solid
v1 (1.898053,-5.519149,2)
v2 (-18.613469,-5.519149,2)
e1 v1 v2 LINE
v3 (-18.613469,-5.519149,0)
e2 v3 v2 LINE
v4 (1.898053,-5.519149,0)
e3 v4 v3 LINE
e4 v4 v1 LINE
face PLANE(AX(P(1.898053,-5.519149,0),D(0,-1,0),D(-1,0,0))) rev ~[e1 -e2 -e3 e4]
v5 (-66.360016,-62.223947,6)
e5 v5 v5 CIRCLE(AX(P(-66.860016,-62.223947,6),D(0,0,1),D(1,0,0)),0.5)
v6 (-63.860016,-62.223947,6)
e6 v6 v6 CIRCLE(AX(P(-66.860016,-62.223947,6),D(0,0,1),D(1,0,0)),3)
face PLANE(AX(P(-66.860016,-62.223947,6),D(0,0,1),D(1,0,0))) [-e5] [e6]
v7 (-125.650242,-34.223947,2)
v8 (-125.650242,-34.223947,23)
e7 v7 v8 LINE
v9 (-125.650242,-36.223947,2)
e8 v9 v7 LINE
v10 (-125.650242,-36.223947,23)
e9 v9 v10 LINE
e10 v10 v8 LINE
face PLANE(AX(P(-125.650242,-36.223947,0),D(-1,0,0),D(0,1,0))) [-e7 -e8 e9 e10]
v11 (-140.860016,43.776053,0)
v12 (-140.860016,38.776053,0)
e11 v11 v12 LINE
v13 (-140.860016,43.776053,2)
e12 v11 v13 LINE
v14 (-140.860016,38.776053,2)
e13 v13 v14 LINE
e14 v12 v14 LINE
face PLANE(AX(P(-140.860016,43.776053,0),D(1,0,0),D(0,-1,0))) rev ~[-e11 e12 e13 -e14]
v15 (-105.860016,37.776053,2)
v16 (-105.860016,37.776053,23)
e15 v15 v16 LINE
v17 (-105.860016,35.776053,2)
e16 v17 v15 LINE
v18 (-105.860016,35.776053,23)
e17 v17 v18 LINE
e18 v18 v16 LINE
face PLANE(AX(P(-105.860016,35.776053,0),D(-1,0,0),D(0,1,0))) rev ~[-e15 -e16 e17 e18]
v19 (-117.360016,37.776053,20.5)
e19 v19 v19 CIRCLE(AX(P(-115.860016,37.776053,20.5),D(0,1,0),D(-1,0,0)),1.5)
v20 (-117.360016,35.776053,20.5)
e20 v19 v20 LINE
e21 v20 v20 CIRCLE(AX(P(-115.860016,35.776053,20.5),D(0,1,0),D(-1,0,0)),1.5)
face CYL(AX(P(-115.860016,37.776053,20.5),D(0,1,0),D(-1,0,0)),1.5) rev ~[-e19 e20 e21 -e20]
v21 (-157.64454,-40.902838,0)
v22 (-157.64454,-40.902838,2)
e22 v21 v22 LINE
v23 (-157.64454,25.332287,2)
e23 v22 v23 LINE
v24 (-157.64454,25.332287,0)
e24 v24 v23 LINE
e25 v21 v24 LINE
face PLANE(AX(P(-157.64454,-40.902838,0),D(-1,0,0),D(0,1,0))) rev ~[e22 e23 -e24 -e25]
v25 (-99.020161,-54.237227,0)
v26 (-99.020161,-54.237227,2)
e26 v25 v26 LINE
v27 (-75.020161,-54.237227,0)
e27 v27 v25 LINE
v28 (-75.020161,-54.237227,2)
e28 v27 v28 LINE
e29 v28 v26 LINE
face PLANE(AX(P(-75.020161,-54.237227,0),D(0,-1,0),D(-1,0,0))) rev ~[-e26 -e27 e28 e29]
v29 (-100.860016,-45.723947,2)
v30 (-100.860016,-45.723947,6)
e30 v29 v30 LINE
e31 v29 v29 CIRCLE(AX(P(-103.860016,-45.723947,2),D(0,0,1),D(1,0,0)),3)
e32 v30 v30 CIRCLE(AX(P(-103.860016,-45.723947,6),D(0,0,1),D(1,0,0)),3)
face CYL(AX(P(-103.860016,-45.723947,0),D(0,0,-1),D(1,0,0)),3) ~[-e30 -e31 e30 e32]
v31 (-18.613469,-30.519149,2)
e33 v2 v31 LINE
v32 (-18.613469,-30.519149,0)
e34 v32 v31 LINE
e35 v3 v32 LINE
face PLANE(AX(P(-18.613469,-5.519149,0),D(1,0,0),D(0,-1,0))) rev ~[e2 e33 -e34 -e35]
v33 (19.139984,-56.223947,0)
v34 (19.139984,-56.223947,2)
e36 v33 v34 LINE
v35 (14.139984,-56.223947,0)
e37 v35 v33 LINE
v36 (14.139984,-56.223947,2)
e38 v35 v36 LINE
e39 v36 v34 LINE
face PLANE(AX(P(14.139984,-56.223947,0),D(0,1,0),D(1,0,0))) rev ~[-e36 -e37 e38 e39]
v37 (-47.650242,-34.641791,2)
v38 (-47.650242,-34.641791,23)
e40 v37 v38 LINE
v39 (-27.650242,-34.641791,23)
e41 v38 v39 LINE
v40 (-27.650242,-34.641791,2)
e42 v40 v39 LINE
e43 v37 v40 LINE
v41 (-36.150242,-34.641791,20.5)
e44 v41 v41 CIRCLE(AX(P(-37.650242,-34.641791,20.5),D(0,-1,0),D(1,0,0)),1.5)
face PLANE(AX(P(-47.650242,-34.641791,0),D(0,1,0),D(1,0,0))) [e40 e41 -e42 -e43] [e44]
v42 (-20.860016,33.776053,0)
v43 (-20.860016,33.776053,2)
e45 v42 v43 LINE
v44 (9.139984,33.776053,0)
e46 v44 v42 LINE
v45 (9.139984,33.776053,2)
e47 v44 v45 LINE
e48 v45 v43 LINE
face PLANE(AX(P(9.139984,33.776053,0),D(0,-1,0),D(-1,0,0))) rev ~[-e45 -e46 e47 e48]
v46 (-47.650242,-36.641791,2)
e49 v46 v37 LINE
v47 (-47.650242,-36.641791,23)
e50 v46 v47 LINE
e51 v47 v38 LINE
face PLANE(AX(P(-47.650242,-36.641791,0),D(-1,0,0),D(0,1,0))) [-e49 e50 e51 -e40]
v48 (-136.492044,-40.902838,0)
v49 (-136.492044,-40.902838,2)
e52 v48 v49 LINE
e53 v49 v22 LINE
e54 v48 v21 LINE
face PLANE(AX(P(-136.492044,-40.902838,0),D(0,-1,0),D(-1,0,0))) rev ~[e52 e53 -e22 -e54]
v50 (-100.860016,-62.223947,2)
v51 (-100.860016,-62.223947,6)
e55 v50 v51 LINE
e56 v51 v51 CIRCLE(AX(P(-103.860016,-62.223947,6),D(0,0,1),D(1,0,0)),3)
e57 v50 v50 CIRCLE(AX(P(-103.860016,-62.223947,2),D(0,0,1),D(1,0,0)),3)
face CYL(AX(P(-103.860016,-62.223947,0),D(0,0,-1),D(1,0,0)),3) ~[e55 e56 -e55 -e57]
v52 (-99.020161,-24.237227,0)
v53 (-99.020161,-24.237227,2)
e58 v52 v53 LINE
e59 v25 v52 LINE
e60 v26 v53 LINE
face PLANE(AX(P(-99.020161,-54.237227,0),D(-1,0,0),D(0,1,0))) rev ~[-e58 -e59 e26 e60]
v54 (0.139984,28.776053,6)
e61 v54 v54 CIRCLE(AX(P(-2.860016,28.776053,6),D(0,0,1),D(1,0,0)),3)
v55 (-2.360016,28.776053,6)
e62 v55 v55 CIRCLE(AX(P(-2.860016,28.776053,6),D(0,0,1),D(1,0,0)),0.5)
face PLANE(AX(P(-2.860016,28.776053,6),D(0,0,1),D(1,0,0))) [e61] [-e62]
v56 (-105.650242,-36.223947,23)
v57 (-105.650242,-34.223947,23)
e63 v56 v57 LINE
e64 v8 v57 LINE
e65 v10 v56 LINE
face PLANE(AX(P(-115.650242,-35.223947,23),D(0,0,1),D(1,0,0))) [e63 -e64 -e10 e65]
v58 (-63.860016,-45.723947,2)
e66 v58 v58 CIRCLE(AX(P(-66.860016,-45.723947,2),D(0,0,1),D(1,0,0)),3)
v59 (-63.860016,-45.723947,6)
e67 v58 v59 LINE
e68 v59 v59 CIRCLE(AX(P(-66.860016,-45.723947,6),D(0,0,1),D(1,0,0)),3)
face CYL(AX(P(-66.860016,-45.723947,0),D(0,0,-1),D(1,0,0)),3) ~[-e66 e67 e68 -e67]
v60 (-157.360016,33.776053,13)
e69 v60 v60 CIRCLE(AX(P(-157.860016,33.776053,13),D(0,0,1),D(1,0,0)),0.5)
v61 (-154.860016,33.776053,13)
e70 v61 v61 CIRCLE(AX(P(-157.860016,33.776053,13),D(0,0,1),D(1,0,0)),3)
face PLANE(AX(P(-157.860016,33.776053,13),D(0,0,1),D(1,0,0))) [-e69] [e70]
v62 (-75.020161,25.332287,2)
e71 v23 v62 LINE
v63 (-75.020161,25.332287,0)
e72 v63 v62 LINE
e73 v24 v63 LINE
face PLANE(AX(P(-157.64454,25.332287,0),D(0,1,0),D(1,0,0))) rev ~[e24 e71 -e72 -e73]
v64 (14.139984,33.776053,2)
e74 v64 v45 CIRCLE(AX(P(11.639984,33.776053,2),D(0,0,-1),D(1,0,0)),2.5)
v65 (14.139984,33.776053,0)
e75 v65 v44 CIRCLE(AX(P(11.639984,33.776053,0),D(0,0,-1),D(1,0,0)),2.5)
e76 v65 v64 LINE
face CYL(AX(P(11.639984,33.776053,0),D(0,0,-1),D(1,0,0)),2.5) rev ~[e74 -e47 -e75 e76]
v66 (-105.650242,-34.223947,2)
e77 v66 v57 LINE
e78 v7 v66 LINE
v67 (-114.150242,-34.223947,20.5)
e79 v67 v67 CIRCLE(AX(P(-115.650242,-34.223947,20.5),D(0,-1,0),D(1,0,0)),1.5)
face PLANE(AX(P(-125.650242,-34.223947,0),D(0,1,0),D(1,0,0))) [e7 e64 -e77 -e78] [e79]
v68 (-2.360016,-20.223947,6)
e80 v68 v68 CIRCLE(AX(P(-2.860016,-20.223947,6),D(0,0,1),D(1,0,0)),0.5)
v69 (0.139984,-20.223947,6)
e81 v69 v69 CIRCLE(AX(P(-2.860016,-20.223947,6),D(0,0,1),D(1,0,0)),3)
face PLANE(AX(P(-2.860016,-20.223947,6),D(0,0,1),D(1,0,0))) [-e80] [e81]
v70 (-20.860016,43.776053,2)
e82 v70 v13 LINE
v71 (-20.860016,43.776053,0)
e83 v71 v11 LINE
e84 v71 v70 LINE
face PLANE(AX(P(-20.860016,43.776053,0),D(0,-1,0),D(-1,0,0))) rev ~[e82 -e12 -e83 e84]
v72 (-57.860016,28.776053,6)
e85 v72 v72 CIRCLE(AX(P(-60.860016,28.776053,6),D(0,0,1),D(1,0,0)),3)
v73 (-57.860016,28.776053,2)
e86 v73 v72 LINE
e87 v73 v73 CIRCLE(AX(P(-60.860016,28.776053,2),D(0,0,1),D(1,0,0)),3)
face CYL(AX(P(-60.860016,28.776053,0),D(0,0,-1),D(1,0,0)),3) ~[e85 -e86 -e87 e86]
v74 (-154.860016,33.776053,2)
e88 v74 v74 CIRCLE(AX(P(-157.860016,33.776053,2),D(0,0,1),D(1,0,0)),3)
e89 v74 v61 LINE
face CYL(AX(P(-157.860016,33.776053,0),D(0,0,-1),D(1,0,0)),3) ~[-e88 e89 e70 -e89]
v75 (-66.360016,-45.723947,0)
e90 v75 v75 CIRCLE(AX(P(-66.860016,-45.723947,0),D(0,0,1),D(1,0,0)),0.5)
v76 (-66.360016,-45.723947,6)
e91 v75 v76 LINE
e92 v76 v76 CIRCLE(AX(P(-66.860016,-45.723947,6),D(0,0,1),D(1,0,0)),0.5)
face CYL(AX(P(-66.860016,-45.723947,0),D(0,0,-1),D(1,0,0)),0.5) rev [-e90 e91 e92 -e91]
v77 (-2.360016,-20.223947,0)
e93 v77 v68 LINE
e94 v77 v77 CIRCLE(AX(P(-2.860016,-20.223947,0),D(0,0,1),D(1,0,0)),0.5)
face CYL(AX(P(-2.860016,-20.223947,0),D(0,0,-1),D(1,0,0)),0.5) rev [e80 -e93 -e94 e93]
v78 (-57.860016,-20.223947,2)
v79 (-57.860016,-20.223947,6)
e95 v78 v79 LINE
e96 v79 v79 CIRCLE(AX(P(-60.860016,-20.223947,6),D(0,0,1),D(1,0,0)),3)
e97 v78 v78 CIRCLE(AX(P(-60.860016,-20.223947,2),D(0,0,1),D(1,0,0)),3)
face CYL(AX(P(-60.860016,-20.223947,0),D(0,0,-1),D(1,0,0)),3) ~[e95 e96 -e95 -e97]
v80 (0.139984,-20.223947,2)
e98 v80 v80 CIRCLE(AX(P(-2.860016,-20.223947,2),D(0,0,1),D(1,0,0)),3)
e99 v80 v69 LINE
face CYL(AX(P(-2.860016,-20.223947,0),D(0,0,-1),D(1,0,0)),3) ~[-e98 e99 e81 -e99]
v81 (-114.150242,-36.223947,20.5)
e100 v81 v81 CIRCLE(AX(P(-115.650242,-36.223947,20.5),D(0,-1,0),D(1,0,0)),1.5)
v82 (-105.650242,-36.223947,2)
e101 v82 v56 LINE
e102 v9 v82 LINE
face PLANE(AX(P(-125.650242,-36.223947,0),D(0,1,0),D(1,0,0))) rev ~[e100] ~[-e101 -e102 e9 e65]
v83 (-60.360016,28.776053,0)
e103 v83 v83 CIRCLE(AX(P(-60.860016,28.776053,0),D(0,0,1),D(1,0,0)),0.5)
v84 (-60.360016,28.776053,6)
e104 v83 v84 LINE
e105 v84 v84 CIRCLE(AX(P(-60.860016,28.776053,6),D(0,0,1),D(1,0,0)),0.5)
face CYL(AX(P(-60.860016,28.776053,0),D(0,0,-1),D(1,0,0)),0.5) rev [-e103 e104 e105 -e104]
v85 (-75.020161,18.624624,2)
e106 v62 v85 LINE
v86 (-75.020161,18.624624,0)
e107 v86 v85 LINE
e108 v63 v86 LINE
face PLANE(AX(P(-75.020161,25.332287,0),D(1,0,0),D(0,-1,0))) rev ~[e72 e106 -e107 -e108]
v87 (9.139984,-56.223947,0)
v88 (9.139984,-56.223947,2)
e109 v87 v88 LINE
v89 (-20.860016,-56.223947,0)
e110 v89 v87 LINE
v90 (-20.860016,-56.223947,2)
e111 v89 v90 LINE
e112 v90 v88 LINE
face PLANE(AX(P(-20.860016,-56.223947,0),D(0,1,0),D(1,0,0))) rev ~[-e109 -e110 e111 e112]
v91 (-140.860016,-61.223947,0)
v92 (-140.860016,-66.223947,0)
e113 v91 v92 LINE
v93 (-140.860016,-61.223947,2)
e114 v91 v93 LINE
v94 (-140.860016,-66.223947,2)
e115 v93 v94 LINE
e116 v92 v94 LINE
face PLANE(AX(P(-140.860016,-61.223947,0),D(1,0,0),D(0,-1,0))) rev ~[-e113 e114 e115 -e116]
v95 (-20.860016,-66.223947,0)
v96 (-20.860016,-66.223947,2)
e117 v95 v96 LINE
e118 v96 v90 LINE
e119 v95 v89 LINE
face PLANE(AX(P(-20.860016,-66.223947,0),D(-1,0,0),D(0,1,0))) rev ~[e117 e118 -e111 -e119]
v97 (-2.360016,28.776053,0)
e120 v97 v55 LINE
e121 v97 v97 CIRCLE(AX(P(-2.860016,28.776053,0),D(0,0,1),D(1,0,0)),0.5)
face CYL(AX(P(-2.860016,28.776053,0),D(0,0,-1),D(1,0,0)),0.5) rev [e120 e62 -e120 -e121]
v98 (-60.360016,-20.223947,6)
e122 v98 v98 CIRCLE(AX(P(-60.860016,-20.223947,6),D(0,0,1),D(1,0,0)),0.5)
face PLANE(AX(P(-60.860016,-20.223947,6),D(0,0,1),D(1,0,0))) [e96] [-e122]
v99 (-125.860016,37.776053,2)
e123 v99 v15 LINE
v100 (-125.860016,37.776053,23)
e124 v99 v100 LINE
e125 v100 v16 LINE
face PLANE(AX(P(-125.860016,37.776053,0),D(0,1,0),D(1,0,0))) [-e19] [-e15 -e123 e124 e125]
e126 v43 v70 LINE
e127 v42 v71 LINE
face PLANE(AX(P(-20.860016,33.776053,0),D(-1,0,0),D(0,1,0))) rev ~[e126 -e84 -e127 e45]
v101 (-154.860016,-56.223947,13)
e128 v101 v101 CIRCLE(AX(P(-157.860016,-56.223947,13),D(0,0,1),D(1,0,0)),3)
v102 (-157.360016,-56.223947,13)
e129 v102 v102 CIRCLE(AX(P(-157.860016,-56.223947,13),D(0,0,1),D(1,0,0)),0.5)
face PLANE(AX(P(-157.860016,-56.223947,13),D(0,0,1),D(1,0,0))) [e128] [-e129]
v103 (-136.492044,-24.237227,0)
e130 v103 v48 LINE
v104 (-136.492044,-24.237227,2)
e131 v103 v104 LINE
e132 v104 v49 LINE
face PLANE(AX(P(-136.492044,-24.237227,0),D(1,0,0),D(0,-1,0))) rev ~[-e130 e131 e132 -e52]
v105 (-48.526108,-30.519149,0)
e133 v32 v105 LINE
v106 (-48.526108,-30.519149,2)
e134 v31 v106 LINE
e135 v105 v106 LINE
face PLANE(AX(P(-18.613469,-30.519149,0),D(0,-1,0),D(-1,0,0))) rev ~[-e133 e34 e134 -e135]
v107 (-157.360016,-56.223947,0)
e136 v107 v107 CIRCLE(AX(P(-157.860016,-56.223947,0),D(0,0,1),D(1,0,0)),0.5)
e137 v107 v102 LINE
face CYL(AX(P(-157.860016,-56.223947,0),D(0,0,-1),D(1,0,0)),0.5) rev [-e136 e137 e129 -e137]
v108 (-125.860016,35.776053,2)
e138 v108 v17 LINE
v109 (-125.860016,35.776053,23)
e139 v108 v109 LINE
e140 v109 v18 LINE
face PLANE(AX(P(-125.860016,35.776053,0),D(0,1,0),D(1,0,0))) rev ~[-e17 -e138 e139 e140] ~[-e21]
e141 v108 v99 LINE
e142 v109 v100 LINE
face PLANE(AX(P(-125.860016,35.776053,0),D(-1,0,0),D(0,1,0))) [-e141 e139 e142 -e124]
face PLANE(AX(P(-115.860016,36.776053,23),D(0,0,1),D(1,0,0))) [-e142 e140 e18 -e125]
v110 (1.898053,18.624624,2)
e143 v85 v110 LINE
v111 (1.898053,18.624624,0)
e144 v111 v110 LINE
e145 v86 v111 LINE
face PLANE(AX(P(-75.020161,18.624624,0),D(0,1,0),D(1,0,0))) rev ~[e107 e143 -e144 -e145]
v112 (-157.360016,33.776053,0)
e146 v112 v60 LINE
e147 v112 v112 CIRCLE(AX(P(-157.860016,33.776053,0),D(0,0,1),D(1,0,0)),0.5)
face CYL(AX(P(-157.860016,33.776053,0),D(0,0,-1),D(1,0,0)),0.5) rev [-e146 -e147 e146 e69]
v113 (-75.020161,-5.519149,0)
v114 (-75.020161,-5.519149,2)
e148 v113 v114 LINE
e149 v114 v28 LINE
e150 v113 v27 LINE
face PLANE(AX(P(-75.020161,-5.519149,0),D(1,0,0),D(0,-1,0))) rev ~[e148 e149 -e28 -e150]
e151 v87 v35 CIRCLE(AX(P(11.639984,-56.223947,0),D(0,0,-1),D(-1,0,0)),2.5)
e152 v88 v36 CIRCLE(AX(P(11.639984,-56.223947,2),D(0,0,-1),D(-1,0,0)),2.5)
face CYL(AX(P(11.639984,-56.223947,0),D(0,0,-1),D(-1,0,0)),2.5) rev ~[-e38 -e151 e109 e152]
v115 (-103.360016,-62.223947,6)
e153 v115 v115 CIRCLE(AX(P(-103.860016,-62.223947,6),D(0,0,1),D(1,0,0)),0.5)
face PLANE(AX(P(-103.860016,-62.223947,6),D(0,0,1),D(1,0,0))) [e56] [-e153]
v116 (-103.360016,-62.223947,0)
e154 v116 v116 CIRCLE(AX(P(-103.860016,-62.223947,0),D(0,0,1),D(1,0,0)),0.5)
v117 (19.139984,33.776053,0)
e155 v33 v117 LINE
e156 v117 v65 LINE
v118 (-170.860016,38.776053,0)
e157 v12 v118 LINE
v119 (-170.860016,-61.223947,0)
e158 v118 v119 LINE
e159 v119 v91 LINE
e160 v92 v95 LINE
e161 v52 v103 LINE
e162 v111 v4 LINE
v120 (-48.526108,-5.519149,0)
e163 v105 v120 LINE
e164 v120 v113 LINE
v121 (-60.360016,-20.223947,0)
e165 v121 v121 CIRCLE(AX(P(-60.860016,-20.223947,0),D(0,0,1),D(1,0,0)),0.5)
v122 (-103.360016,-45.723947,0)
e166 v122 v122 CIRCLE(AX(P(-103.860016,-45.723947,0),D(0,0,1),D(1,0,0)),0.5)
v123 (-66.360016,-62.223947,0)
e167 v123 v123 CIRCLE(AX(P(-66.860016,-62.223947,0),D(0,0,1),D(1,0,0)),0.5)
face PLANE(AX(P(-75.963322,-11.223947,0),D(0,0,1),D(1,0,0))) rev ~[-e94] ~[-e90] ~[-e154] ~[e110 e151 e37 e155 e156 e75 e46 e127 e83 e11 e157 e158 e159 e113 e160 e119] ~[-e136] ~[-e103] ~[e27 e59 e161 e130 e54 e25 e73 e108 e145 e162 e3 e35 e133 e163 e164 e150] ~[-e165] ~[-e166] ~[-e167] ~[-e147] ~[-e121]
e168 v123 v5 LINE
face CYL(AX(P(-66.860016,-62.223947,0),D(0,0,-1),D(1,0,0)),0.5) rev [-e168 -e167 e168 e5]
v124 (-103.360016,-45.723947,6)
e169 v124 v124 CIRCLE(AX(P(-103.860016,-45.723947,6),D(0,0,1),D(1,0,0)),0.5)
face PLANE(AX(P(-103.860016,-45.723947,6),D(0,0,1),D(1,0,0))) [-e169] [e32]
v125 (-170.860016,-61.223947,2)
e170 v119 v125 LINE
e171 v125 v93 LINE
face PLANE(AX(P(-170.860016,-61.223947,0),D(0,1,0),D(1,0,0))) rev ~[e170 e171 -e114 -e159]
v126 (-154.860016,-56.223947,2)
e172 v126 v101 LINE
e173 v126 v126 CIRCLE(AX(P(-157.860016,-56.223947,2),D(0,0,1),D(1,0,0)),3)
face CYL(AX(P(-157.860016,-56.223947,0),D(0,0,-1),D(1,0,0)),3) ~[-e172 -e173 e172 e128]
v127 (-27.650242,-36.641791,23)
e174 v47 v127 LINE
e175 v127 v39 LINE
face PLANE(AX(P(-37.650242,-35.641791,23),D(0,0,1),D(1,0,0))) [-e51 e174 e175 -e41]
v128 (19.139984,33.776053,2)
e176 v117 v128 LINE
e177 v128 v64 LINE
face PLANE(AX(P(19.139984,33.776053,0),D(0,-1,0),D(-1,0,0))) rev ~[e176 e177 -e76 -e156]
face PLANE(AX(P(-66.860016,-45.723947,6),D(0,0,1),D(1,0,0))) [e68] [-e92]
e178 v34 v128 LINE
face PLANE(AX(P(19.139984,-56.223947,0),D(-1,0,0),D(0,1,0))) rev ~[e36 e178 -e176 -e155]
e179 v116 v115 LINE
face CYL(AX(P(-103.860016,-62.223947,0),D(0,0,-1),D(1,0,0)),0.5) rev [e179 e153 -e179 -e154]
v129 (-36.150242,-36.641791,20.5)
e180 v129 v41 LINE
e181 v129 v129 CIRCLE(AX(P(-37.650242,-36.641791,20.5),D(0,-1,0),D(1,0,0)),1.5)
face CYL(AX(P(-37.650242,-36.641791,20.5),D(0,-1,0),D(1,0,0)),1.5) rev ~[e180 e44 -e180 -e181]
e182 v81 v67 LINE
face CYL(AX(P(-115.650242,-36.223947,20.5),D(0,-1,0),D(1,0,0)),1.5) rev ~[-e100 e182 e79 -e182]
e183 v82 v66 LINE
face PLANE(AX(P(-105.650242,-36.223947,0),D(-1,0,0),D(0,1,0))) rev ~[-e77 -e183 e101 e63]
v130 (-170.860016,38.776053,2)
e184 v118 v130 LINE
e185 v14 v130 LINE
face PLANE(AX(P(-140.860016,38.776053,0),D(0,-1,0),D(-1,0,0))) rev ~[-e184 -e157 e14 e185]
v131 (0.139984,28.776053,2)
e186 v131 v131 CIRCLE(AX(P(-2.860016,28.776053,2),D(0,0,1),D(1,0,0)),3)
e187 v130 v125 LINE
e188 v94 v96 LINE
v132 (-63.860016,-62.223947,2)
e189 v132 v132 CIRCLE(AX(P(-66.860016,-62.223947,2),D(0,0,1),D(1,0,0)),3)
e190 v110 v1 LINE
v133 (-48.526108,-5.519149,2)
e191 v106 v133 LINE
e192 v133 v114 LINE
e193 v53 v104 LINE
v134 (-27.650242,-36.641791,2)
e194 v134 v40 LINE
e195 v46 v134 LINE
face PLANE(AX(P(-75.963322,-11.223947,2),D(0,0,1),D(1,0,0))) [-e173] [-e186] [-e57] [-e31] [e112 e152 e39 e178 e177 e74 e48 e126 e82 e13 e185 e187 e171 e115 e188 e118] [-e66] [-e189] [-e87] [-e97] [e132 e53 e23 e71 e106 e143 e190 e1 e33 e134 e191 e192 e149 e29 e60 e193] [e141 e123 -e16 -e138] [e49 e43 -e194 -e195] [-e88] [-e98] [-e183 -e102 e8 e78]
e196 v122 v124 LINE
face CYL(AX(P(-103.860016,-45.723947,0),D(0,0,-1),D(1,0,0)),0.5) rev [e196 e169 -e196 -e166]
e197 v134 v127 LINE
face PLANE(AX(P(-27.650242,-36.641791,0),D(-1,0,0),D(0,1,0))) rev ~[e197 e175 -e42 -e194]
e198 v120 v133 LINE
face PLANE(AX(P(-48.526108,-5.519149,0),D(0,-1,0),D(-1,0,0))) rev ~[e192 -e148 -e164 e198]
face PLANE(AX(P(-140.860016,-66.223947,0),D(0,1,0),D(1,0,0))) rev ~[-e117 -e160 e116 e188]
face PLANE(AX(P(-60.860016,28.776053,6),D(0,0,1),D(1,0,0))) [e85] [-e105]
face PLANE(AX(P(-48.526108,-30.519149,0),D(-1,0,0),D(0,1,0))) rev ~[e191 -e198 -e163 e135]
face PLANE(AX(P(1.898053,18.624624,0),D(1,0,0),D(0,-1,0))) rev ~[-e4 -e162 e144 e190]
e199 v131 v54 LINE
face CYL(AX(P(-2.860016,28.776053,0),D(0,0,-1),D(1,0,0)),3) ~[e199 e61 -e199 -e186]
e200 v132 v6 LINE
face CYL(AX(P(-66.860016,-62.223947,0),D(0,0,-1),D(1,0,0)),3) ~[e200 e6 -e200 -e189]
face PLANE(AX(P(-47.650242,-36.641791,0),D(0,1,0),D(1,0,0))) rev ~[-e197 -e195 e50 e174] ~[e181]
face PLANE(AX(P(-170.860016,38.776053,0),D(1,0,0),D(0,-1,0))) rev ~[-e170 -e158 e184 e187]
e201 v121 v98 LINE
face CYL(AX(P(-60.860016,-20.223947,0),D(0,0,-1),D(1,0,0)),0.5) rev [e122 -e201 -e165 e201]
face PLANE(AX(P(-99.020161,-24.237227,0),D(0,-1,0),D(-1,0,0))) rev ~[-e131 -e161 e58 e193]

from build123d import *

# Parameters (mm, degrees)
F0_R      = 3
F0_W      = 20
F0_H      = 2
F1_DEPTH  = 2
F0_R_2    = 0.5
F2_DEPTH  = 13
F3_DEPTH  = 23
F4_DEPTH  = 6
F5_R      = 1.5
F6_DEPTH  = 25
F7_R      = 1.5
F8_DEPTH  = 5
F9_R      = 1.5
F10_DEPTH = 5


with BuildPart() as f1:
    # F0 (on Top) → F1 (new body)
    with BuildSketch(Plane.XY):
        with BuildLine():
            Line((-20.860016, 43.776053), (-140.860016, 43.776053))
            Line((-140.860016, 43.776053), (-140.860016, 38.776053))
            Line((-140.860016, 38.776053), (-170.860016, 38.776053))
            Line((-170.860016, 38.776053), (-170.860016, -61.223947))
            Line((-170.860016, -61.223947), (-140.860016, -61.223947))
            Line((-140.860016, -61.223947), (-140.860016, -66.223947))
            Line((-140.860016, -66.223947), (-20.860016, -66.223947))
            Line((-20.860016, -66.223947), (-20.860016, -56.223947))
            Line((-20.860016, -56.223947), (9.139984, -56.223947))
            ThreePointArc((9.139984, -56.223947), (11.639984, -53.723947), (14.139984, -56.223947))
            Line((14.139984, -56.223947), (19.139984, -56.223947))
            Line((19.139984, -56.223947), (19.139984, 33.776053))
            Line((19.139984, 33.776053), (14.139984, 33.776053))
            ThreePointArc((14.139984, 33.776053), (11.639984, 31.276053), (9.139984, 33.776053))
            Line((9.139984, 33.776053), (-20.860016, 33.776053))
            Line((-20.860016, 33.776053), (-20.860016, 43.776053))
        make_face()
        with Locations((-157.860016, -56.223947)):
            Circle(F0_R, mode=Mode.SUBTRACT)
        with Locations((-103.860016, -62.223947)):
            Circle(F0_R, mode=Mode.SUBTRACT)
        with Locations((-103.860016, -45.723947)):
            Circle(F0_R, mode=Mode.SUBTRACT)
        with Locations((-115.650242, -35.223947)):
            Rectangle(F0_W, F0_H, mode=Mode.SUBTRACT)
        Polygon((-157.64454, -24.237227), (-157.64454, 25.332287), (-75.020161, 25.332287), (-75.020161, 18.624624), (1.898053, 18.624624), (1.898053, -5.519149), (-18.613469, -5.519149), (-18.613469, -30.519149), (-48.526108, -30.519149), (-48.526108, -5.519149), (-75.020161, -5.519149), (-75.020161, -24.237227), (-75.020161, -54.237227), (-99.020161, -54.237227), (-99.020161, -24.237227), (-136.492044, -24.237227), (-136.492044, -40.902838), (-157.64454, -40.902838), align=None, mode=Mode.SUBTRACT)
        with Locations((-66.860016, -62.223947)):
            Circle(F0_R, mode=Mode.SUBTRACT)
        with Locations((-66.860016, -45.723947)):
            Circle(F0_R, mode=Mode.SUBTRACT)
        with Locations((-37.650242, -35.641791)):
            Rectangle(F0_W, F0_H, mode=Mode.SUBTRACT)
        with Locations((-60.860016, -20.223947)):
            Circle(F0_R, mode=Mode.SUBTRACT)
        with Locations((-2.860016, -20.223947)):
            Circle(F0_R, mode=Mode.SUBTRACT)
        with Locations((-157.860016, 33.776053)):
            Circle(F0_R, mode=Mode.SUBTRACT)
        with Locations((-115.860016, 36.776053)):
            Rectangle(F0_W, F0_H, mode=Mode.SUBTRACT)
        with Locations((-60.860016, 28.776053)):
            Circle(F0_R, mode=Mode.SUBTRACT)
        with Locations((-2.860016, 28.776053)):
            Circle(F0_R, mode=Mode.SUBTRACT)
    extrude(amount=F1_DEPTH)

    # F0 (on Top) → F2 (join)
    with BuildSketch(Plane.XY):
        with Locations((-157.860016, 33.776053)):
            Circle(F0_R)
        with Locations((-157.860016, 33.776053)):
            Circle(F0_R_2, mode=Mode.SUBTRACT)
        with Locations((-157.860016, -56.223947)):
            Circle(F0_R)
        with Locations((-157.860016, -56.223947)):
            Circle(F0_R_2, mode=Mode.SUBTRACT)
    extrude(amount=F2_DEPTH)

    # F0 (on Top) → F3 (join)
    with BuildSketch(Plane.XY):
        with Locations((-115.650242, -35.223947)):
            Rectangle(F0_W, F0_H)
        with Locations((-115.860016, 36.776053)):
            Rectangle(F0_W, F0_H)
        with Locations((-37.650242, -35.641791)):
            Rectangle(F0_W, F0_H)
    extrude(amount=F3_DEPTH)

    # F0 (on Top) → F4 (join)
    with BuildSketch(Plane.XY):
        with Locations((-60.860016, 28.776053)):
            Circle(F0_R)
        with Locations((-60.860016, 28.776053)):
            Circle(F0_R_2, mode=Mode.SUBTRACT)
        with Locations((-2.860016, 28.776053)):
            Circle(F0_R)
        with Locations((-2.860016, 28.776053)):
            Circle(F0_R_2, mode=Mode.SUBTRACT)
        with Locations((-2.860016, -20.223947)):
            Circle(F0_R)
        with Locations((-2.860016, -20.223947)):
            Circle(F0_R_2, mode=Mode.SUBTRACT)
        with Locations((-60.860016, -20.223947)):
            Circle(F0_R)
        with Locations((-60.860016, -20.223947)):
            Circle(F0_R_2, mode=Mode.SUBTRACT)
        with Locations((-66.860016, -45.723947)):
            Circle(F0_R)
        with Locations((-66.860016, -45.723947)):
            Circle(F0_R_2, mode=Mode.SUBTRACT)
        with Locations((-66.860016, -62.223947)):
            Circle(F0_R)
        with Locations((-66.860016, -62.223947)):
            Circle(F0_R_2, mode=Mode.SUBTRACT)
        with Locations((-103.860016, -62.223947)):
            Circle(F0_R)
        with Locations((-103.860016, -62.223947)):
            Circle(F0_R_2, mode=Mode.SUBTRACT)
        with Locations((-103.860016, -45.723947)):
            Circle(F0_R)
        with Locations((-103.860016, -45.723947)):
            Circle(F0_R_2, mode=Mode.SUBTRACT)
    extrude(amount=F4_DEPTH)

    # F5 (on face) → F6 (cut)
    with BuildSketch(Plane.XZ.offset(36.223947)):
        with Locations((-115.650242, 20.5)):
            Circle(F5_R)
    extrude(amount=-F6_DEPTH, mode=Mode.SUBTRACT)

    # F7 (on face) → F8 (cut)
    with BuildSketch(Plane(origin=(0, 37.776053, 0), x_dir=(-1, 0, 0), z_dir=(0, 1, 0))):
        with Locations((115.860016, 20.5)):
            Circle(F7_R)
    extrude(amount=-F8_DEPTH, mode=Mode.SUBTRACT)

    # F9 (on face) → F10 (cut)
    with BuildSketch(Plane.XZ.offset(36.641791)):
        with Locations((-37.650242, 20.5)):
            Circle(F9_R)
    extrude(amount=-F10_DEPTH, mode=Mode.SUBTRACT)


solid = f1.part
